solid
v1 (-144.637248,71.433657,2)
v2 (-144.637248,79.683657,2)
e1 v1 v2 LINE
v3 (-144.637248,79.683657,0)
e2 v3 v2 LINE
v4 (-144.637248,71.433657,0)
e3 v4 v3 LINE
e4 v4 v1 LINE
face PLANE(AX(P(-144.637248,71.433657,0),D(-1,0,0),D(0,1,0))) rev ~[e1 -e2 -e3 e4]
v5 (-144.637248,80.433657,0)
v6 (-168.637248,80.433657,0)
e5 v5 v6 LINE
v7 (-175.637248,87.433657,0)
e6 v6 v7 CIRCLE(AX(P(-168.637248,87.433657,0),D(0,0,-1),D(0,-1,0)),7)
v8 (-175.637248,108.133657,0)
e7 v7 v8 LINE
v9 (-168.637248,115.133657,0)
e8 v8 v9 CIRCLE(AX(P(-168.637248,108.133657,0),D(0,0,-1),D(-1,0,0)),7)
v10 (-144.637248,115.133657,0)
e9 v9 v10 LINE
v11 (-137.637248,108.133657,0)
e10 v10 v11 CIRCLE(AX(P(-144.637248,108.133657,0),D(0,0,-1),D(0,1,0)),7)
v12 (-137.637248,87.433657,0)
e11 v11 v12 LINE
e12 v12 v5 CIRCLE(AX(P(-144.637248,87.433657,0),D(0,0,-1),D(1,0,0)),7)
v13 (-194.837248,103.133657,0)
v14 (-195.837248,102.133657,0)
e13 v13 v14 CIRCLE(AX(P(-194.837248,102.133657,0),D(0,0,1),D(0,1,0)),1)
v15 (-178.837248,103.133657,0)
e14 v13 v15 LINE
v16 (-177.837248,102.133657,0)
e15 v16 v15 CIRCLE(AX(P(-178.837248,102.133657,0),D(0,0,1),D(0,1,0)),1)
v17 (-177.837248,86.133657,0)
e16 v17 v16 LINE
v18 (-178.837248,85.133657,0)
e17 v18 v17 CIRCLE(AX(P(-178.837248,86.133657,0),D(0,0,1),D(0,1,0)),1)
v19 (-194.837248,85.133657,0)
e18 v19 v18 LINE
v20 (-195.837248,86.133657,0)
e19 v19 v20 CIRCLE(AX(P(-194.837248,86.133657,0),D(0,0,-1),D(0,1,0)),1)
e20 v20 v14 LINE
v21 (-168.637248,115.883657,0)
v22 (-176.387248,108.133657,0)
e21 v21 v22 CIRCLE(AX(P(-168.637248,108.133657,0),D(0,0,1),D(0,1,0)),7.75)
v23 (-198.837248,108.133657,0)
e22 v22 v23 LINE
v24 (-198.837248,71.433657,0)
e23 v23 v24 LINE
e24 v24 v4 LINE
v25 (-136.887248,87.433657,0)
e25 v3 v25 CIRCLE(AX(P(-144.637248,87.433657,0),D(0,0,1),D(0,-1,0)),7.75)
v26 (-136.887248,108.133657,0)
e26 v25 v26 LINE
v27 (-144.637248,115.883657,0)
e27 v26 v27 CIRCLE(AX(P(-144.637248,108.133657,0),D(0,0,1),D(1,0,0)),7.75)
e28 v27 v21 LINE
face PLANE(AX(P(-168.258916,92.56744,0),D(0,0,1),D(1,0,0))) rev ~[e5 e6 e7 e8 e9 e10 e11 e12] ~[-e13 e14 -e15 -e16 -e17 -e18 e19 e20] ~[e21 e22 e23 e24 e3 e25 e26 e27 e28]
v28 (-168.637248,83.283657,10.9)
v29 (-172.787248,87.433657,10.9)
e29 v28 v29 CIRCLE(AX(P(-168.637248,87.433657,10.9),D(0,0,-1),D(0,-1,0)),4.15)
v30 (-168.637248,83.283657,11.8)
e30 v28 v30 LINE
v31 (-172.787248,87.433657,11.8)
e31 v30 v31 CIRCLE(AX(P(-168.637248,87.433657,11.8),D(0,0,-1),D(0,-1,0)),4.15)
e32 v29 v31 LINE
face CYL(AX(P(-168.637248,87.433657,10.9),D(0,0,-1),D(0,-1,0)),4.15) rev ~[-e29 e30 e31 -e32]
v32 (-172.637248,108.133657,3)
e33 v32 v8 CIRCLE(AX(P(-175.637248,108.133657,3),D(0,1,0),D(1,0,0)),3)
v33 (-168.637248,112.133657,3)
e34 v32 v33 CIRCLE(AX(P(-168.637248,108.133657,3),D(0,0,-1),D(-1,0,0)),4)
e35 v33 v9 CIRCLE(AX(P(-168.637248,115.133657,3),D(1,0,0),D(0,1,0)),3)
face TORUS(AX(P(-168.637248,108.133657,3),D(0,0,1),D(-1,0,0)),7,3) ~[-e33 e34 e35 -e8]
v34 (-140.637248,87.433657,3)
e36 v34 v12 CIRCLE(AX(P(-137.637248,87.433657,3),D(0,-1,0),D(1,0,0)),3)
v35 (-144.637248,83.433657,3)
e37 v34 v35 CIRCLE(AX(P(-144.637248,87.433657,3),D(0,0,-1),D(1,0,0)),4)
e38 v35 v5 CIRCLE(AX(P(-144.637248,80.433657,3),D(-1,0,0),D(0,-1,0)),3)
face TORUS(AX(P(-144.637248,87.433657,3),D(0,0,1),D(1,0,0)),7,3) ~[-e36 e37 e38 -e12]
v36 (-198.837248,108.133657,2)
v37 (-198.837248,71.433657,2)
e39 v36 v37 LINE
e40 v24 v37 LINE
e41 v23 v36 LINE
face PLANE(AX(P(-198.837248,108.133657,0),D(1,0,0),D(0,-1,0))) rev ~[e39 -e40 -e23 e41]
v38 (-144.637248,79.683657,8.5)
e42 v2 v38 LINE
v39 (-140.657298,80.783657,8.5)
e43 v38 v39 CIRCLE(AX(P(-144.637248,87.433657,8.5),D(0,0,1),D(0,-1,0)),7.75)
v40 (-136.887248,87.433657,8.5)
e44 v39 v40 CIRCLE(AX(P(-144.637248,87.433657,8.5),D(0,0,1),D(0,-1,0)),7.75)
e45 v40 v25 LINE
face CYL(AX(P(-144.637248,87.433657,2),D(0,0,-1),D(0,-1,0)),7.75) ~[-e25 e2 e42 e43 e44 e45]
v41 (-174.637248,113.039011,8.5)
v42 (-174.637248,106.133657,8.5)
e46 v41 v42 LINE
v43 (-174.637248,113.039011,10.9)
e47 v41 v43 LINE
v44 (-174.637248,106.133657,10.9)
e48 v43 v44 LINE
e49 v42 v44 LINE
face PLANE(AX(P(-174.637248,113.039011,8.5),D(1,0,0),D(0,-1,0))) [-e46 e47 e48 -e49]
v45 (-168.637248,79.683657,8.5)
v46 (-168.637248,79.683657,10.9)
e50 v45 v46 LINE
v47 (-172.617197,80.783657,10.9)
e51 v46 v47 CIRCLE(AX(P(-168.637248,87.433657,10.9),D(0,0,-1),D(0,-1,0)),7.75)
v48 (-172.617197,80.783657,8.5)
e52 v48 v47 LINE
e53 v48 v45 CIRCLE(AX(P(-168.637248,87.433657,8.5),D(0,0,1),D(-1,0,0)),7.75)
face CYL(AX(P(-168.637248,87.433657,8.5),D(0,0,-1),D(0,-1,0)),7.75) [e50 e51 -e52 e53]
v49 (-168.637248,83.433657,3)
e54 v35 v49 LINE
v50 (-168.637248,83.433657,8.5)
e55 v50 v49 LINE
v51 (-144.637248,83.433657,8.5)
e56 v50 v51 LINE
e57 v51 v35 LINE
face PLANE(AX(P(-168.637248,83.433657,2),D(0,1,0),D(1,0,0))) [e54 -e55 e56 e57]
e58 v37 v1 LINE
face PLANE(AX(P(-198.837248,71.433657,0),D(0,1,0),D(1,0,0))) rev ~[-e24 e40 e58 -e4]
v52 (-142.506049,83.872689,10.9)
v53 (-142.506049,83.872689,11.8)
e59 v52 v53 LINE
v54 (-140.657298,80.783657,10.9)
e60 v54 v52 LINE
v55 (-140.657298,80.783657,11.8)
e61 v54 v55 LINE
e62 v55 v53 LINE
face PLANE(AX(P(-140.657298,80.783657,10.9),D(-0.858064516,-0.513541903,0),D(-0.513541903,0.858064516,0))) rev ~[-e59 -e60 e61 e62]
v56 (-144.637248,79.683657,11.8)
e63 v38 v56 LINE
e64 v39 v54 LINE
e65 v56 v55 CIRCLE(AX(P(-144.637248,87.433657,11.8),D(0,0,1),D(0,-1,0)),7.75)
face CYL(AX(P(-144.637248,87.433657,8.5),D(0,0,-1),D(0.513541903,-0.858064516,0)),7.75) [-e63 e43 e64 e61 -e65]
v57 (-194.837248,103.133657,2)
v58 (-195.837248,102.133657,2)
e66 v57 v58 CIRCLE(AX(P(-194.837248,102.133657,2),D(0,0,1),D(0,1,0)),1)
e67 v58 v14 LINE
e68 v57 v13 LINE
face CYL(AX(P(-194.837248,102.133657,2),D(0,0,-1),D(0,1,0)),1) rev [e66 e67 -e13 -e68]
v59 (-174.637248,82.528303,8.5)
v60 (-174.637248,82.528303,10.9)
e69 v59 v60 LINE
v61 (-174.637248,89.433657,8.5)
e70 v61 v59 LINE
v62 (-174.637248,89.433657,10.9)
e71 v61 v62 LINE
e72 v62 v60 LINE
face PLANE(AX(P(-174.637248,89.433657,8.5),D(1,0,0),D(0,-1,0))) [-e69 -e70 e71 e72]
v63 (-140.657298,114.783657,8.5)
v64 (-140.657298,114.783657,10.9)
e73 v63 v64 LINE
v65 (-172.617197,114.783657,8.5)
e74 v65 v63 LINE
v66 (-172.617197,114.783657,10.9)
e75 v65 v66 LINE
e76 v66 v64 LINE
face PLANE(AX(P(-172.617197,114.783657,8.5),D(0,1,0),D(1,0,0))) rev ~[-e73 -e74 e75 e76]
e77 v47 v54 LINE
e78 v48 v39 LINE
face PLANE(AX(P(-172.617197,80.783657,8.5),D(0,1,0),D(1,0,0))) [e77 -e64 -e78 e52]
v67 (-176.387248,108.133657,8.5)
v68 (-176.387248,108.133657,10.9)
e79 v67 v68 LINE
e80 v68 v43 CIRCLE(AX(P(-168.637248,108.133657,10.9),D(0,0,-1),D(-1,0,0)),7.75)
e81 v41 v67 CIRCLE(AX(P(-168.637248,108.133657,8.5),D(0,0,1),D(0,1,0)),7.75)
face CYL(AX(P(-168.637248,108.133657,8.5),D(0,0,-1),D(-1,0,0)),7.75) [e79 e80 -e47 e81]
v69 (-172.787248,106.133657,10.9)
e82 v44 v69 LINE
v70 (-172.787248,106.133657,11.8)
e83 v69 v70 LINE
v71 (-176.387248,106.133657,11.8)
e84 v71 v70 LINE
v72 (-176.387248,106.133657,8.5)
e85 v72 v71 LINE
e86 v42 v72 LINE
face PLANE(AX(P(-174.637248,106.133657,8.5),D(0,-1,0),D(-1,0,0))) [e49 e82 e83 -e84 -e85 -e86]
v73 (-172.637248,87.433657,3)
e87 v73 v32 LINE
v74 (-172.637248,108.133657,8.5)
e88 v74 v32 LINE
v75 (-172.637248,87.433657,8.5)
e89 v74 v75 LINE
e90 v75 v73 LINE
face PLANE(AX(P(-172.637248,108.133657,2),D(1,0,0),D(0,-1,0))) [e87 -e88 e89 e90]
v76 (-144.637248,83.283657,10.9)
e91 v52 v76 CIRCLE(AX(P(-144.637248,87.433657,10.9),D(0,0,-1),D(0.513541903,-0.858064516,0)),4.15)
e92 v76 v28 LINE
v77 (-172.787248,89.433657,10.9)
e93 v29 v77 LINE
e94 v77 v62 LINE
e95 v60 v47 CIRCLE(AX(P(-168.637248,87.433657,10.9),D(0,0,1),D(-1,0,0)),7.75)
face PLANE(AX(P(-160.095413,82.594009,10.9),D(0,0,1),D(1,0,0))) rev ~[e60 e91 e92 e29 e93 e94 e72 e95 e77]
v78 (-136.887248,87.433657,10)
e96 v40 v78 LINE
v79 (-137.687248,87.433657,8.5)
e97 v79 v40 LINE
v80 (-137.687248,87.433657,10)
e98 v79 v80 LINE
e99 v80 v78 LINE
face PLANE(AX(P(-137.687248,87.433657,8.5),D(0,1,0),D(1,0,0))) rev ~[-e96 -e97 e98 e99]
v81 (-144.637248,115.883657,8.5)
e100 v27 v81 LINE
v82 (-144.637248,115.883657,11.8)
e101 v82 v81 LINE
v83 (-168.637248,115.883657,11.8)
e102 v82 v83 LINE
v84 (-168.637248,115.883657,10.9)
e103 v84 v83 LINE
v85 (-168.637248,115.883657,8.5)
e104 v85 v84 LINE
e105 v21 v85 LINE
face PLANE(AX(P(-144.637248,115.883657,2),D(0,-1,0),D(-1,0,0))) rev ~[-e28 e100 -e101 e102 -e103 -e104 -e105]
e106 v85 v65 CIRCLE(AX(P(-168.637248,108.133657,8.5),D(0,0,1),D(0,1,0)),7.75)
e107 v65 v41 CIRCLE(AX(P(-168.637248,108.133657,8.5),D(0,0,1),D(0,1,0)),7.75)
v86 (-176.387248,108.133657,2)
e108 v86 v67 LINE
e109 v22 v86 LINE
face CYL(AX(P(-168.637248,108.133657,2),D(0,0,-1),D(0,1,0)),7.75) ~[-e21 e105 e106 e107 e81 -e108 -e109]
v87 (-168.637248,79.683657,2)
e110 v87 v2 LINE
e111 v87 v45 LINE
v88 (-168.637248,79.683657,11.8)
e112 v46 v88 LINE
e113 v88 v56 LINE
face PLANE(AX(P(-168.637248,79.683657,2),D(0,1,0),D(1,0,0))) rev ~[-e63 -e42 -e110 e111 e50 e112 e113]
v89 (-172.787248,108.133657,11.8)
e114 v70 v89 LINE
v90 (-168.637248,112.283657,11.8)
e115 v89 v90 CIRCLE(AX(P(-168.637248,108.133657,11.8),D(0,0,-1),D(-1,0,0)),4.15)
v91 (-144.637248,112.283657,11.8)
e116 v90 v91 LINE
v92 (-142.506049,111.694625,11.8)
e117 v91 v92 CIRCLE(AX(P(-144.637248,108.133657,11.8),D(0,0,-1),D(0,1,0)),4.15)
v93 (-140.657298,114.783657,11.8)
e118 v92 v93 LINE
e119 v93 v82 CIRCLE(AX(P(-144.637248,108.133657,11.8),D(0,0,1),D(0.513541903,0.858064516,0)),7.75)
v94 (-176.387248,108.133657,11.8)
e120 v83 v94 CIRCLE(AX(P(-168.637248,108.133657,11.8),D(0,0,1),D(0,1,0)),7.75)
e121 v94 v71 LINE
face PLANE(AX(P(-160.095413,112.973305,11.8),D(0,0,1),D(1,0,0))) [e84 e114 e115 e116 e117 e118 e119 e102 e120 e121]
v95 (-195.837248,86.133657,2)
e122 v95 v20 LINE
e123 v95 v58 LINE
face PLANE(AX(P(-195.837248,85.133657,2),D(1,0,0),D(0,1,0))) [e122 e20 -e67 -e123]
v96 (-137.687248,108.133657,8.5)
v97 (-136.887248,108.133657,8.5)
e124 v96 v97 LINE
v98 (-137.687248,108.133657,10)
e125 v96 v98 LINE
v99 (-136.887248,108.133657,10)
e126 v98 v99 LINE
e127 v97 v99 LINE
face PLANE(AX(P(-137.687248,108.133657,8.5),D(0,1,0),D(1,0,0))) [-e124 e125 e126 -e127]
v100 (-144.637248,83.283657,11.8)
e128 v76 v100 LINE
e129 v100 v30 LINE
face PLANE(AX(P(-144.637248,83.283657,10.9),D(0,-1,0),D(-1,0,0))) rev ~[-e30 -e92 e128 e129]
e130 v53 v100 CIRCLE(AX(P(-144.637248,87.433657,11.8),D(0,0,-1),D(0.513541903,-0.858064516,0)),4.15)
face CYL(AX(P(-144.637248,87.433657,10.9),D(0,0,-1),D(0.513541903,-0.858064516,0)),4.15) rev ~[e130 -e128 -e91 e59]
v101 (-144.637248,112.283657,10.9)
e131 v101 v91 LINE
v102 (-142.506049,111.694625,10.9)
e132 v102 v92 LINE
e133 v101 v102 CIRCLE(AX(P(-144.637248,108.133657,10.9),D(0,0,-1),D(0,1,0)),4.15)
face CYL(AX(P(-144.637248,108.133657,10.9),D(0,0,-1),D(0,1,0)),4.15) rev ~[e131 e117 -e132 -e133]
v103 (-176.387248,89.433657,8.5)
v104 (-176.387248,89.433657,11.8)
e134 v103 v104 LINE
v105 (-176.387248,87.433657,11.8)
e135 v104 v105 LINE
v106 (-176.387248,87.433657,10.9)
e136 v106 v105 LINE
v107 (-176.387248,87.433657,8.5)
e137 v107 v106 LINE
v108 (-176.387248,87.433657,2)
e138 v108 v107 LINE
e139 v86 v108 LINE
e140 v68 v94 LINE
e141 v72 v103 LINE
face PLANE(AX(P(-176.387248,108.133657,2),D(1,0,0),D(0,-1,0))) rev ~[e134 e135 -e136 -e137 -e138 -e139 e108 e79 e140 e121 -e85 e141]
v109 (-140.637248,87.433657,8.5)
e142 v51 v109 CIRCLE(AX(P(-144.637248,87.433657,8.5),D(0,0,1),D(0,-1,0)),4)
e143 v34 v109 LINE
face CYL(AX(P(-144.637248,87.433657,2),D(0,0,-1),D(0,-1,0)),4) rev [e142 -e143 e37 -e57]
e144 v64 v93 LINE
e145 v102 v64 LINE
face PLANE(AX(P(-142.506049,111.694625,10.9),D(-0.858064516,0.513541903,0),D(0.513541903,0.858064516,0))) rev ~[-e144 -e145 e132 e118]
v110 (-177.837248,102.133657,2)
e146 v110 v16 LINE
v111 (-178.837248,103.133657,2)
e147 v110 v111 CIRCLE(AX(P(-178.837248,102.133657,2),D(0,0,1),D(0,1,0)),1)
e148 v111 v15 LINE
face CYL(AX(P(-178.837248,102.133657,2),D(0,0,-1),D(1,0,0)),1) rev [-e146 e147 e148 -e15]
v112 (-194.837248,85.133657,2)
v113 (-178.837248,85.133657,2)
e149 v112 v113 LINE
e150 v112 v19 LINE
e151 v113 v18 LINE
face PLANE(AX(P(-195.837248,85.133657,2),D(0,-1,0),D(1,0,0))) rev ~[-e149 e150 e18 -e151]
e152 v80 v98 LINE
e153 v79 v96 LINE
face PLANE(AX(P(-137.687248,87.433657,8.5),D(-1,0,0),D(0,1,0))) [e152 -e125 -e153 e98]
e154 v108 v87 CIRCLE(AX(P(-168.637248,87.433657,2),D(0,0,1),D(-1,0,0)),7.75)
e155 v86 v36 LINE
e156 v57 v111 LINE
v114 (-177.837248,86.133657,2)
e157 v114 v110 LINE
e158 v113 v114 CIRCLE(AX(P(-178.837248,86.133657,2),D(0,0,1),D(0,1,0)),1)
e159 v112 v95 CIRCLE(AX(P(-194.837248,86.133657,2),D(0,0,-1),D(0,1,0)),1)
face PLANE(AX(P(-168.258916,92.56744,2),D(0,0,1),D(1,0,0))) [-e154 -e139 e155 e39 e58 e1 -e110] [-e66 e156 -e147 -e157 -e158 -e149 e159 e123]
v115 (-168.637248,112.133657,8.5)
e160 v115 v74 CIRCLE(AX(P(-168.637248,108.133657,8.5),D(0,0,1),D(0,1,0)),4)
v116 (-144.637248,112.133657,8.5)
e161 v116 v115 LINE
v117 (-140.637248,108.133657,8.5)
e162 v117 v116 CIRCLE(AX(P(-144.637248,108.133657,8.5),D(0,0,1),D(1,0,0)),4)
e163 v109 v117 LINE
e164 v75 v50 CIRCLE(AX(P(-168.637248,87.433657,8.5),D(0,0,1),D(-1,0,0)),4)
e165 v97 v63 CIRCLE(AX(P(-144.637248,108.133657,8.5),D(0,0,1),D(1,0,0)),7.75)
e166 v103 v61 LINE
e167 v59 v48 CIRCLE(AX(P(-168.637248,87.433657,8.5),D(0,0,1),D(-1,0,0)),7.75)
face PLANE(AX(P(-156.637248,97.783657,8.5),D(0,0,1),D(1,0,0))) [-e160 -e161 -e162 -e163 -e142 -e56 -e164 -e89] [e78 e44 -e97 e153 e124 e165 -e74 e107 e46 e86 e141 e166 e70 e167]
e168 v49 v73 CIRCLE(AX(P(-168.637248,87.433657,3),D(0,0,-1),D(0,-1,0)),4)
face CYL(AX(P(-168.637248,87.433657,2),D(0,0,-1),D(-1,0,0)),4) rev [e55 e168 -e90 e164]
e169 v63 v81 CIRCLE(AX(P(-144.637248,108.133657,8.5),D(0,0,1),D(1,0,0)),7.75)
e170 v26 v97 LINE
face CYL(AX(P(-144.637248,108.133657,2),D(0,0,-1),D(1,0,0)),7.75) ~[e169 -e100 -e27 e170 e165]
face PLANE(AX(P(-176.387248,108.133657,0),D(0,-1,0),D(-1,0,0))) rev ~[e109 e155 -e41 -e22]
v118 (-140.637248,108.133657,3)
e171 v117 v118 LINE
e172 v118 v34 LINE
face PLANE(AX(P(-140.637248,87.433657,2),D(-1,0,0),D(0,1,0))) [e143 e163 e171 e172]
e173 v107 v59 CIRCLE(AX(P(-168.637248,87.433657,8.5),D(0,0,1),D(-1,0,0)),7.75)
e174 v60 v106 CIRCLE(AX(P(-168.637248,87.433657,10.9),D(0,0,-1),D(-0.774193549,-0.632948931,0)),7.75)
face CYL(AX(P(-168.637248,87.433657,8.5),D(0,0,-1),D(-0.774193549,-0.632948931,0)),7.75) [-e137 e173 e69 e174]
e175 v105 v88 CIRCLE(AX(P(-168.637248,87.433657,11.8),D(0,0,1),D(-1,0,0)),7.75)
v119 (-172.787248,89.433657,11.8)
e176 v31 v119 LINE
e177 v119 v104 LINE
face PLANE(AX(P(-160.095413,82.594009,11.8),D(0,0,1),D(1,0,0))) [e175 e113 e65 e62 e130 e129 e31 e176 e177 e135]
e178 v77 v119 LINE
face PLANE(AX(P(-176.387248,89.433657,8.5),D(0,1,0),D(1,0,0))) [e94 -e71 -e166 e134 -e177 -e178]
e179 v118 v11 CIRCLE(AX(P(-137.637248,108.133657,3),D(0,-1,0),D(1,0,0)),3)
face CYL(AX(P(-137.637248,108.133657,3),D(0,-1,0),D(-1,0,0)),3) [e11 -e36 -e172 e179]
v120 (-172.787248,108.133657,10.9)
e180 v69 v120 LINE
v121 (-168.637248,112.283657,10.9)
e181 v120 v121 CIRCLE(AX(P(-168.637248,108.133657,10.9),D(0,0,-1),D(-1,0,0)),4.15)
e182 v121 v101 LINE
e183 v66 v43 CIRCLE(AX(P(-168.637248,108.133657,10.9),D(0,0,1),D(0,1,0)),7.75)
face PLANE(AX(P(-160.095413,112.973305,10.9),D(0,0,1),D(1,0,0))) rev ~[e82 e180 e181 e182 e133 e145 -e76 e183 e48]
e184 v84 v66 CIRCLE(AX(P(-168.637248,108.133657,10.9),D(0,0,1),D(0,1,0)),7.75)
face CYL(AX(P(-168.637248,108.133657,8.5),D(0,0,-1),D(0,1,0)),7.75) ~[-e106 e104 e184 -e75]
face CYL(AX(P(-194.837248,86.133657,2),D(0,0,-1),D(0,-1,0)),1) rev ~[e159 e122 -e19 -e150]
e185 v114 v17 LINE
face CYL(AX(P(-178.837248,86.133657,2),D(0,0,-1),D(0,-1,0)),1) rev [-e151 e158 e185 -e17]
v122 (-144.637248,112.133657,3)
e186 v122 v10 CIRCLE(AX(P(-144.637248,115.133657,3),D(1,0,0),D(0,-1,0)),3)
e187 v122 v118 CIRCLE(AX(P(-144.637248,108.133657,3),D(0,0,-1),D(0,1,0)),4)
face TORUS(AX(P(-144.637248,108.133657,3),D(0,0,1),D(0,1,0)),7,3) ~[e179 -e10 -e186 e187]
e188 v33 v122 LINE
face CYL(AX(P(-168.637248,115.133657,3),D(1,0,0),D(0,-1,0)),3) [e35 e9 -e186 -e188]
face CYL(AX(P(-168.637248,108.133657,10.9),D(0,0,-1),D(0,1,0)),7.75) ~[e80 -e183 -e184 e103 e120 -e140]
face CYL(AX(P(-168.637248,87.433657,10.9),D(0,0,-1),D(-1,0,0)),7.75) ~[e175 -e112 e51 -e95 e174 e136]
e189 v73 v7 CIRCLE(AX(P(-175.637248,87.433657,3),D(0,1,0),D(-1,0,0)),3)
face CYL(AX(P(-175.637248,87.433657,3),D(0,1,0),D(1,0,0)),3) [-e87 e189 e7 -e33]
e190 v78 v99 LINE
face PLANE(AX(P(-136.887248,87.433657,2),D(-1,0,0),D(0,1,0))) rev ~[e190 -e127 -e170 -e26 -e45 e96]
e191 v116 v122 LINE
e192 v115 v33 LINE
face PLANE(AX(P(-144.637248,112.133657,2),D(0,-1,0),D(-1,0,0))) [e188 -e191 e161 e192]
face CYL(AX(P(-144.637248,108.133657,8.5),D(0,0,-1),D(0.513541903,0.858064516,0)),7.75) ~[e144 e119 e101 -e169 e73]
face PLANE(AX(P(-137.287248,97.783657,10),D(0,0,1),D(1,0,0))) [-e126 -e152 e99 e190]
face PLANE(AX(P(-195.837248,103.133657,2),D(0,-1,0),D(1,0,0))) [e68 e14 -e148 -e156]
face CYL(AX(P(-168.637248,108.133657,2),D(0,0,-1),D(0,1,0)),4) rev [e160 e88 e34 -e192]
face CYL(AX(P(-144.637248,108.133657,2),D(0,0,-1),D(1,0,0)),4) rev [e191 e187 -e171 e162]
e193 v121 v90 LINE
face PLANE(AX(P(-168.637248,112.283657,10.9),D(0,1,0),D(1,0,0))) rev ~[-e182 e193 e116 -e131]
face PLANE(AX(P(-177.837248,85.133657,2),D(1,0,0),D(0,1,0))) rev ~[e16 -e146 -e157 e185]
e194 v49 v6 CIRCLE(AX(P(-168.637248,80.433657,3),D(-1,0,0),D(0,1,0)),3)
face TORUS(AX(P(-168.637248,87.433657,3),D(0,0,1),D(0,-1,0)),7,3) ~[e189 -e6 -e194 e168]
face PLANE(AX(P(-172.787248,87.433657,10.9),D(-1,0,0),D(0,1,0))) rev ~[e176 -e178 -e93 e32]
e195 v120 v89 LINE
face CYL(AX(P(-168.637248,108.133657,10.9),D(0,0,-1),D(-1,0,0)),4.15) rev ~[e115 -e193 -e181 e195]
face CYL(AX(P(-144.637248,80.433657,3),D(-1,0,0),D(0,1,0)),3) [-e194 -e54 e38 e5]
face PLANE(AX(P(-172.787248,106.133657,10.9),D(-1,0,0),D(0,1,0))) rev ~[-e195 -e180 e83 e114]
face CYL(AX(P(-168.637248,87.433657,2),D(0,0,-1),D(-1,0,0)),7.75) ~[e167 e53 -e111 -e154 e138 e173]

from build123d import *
from build123d.topology import SkipClean

# Parameters (mm, degrees)
SALIENTE_EXTRUIR1_DEPTH = 2
SALIENTE_EXTRUIR2_DEPTH = 6.5
SALIENTE_EXTRUIR4_DEPTH = 2.4
SALIENTE_EXTRUIR5_START = 2.4
SALIENTE_EXTRUIR5_DEPTH = 0.9
REDONDEO1_R             = 3
CROQUIS8_W              = 0.8
CROQUIS8_H              = 20.7
SALIENTE_EXTRUIR6_DEPTH = 1.5
CROQUIS9_W              = 18
CROQUIS9_H              = 18
CORTAR_EXTRUIR1_DEPTH   = 2
REDONDEO2_R             = 1


with BuildPart() as part:
    # Croquis1 → Saliente-Extruir1 (new body)
    with BuildSketch(Plane.XY):
        with BuildLine():
            Line((-198.83724752, 71.433656958), (-144.63724752, 71.433656958))
            Line((-144.63724752, 71.433656958), (-144.63724752, 79.683656958))
            ThreePointArc((-144.63724752, 79.683656958), (-139.157169966, 81.953579404), (-136.88724752, 87.433656958))
            Line((-136.88724752, 87.433656958), (-136.88724752, 108.133656958))
            ThreePointArc((-136.88724752, 108.133656958), (-139.157169966, 113.613734512), (-144.63724752, 115.883656958))
            Line((-144.63724752, 115.883656958), (-168.63724752, 115.883656958))
            ThreePointArc((-168.63724752, 115.883656958), (-174.117325074, 113.613734512), (-176.38724752, 108.133656958))
            Line((-176.38724752, 108.133656958), (-198.83724752, 108.133656958))
            Line((-198.83724752, 108.133656958), (-198.83724752, 71.433656958))
        make_face()
        with BuildLine():
            Line((-144.63724752, 83.433656958), (-168.63724752, 83.433656958))
            ThreePointArc((-168.63724752, 83.433656958), (-171.465674645, 84.605229833), (-172.63724752, 87.433656958))
            Line((-172.63724752, 87.433656958), (-172.63724752, 108.133656958))
            ThreePointArc((-172.63724752, 108.133656958), (-171.465674645, 110.962084083), (-168.63724752, 112.133656958))
            Line((-168.63724752, 112.133656958), (-144.63724752, 112.133656958))
            ThreePointArc((-144.63724752, 112.133656958), (-141.808820395, 110.962084083), (-140.63724752, 108.133656958))
            Line((-140.63724752, 108.133656958), (-140.63724752, 87.433656958))
            ThreePointArc((-140.63724752, 87.433656958), (-141.808820395, 84.605229833), (-144.63724752, 83.433656958))
        make_face(mode=Mode.SUBTRACT)
    extrude(amount=SALIENTE_EXTRUIR1_DEPTH)

    # Croquis3 → Saliente-Extruir2 (add)
    with BuildSketch(Plane.XY.offset(2)):
        with BuildLine():
            Line((-136.88724752, 87.433656958), (-136.88724752, 108.133656958))
            ThreePointArc((-136.88724752, 108.133656958), (-139.157169966, 113.613734512), (-144.63724752, 115.883656958))
            Line((-144.63724752, 115.883656958), (-168.63724752, 115.883656958))
            ThreePointArc((-168.63724752, 115.883656958), (-174.117325074, 113.613734512), (-176.38724752, 108.133656958))
            Line((-176.38724752, 108.133656958), (-176.38724752, 87.433656958))
            ThreePointArc((-176.38724752, 87.433656958), (-174.117325074, 81.953579404), (-168.63724752, 79.683656958))
            Line((-168.63724752, 79.683656958), (-144.63724752, 79.683656958))
            ThreePointArc((-144.63724752, 79.683656958), (-139.157169966, 81.953579404), (-136.88724752, 87.433656958))
        make_face()
        with BuildLine():
            Line((-140.63724752, 87.433656958), (-140.63724752, 108.133656958))
            ThreePointArc((-140.63724752, 108.133656958), (-141.808820395, 110.962084083), (-144.63724752, 112.133656958))
            Line((-144.63724752, 112.133656958), (-168.63724752, 112.133656958))
            ThreePointArc((-168.63724752, 112.133656958), (-171.465674645, 110.962084083), (-172.63724752, 108.133656958))
            Line((-172.63724752, 108.133656958), (-172.63724752, 87.433656958))
            ThreePointArc((-172.63724752, 87.433656958), (-171.465674645, 84.605229833), (-168.63724752, 83.433656958))
            Line((-168.63724752, 83.433656958), (-144.63724752, 83.433656958))
            ThreePointArc((-144.63724752, 83.433656958), (-141.808820395, 84.605229833), (-140.63724752, 87.433656958))
        make_face(mode=Mode.SUBTRACT)
    extrude(amount=SALIENTE_EXTRUIR2_DEPTH)

    # Croquis6 → Saliente-Extruir4 (add)
    with SkipClean():  # the faces are left unmerged after this step: merging them gives an invalid solid
        with BuildSketch(Plane.XY.offset(8.5)):
            with BuildLine():
                Line((-172.617197268, 114.783656958), (-140.657297772, 114.783656958))
                ThreePointArc((-140.657297772, 114.783656958), (-142.572665238, 115.603596717), (-144.63724752, 115.883656958))
                Line((-144.63724752, 115.883656958), (-168.63724752, 115.883656958))
                ThreePointArc((-168.63724752, 115.883656958), (-170.701829802, 115.603596717), (-172.617197268, 114.783656958))
            make_face()
            with BuildLine():
                Line((-144.63724752, 79.683656958), (-168.63724752, 79.683656958))
                ThreePointArc((-168.63724752, 79.683656958), (-170.701829802, 79.963717199), (-172.617197268, 80.783656958))
                Line((-172.617197268, 80.783656958), (-140.657297772, 80.783656958))
                ThreePointArc((-140.657297772, 80.783656958), (-142.572665238, 79.963717199), (-144.63724752, 79.683656958))
            make_face()
            with BuildLine():
                Line((-174.63724752, 113.039011176), (-174.63724752, 106.133656958))
                Line((-174.63724752, 106.133656958), (-176.38724752, 106.133656958))
                Line((-176.38724752, 106.133656958), (-176.38724752, 108.133656958))
                ThreePointArc((-176.38724752, 108.133656958), (-175.93664818, 110.73774029), (-174.63724752, 113.039011176))
            make_face()
            with BuildLine():
                Line((-176.38724752, 87.433656958), (-176.38724752, 89.433656958))
                Line((-176.38724752, 89.433656958), (-174.63724752, 89.433656958))
                Line((-174.63724752, 89.433656958), (-174.63724752, 82.52830274))
                ThreePointArc((-174.63724752, 82.52830274), (-175.93664818, 84.829573626), (-176.38724752, 87.433656958))
            make_face()
        extrude(amount=SALIENTE_EXTRUIR4_DEPTH)

    # Croquis7 → Saliente-Extruir5 (add)
    with SkipClean():  # the faces are left unmerged after this step: merging them gives an invalid solid
        with BuildSketch(Plane.XY.offset(8.5).offset(SALIENTE_EXTRUIR5_START)):
            with BuildLine():
                Line((-172.78724752, 106.133656958), (-172.78724752, 108.133656958))
                ThreePointArc((-172.78724752, 108.133656958), (-171.571740662, 111.0681501), (-168.63724752, 112.283656958))
                Line((-168.63724752, 112.283656958), (-144.63724752, 112.283656958))
                ThreePointArc((-144.63724752, 112.283656958), (-143.531697008, 112.133689216), (-142.506048622, 111.6946247))
                Line((-142.506048622, 111.6946247), (-140.657297772, 114.783656958))
                ThreePointArc((-140.657297772, 114.783656958), (-142.572665238, 115.603596717), (-144.63724752, 115.883656958))
                Line((-144.63724752, 115.883656958), (-168.63724752, 115.883656958))
                ThreePointArc((-168.63724752, 115.883656958), (-174.117325074, 113.613734512), (-176.38724752, 108.133656958))
                Line((-176.38724752, 108.133656958), (-176.38724752, 106.133656958))
                Line((-176.38724752, 106.133656958), (-172.78724752, 106.133656958))
            make_face()
            with BuildLine():
                Line((-168.63724752, 79.683656958), (-144.63724752, 79.683656958))
                ThreePointArc((-144.63724752, 79.683656958), (-142.572665238, 79.963717199), (-140.657297772, 80.783656958))
                Line((-140.657297772, 80.783656958), (-142.506048622, 83.872689216))
                ThreePointArc((-142.506048622, 83.872689216), (-143.531697008, 83.4336247), (-144.63724752, 83.283656958))
                Line((-144.63724752, 83.283656958), (-168.63724752, 83.283656958))
                ThreePointArc((-168.63724752, 83.283656958), (-171.571740662, 84.499163816), (-172.78724752, 87.433656958))
                Line((-172.78724752, 87.433656958), (-172.78724752, 89.433656958))
                Line((-172.78724752, 89.433656958), (-176.38724752, 89.433656958))
                Line((-176.38724752, 89.433656958), (-176.38724752, 87.433656958))
                ThreePointArc((-176.38724752, 87.433656958), (-174.117325074, 81.953579404), (-168.63724752, 79.683656958))
            make_face()
        extrude(amount=SALIENTE_EXTRUIR5_DEPTH)

    # Redondeo1
    redondeo1_edges = [part.edges().sort_by_distance(p)[0] for p in [
        (-141.808820395, 84.605229833, 0),
        (-140.63724752, 97.783656958, 0),
        (-141.808820395, 110.962084083, 0),
        (-156.63724752, 112.133656958, 0),
        (-171.465674645, 110.962084083, 0),
        (-172.63724752, 97.783656958, 0),
        (-171.465674645, 84.605229833, 0),
        (-156.63724752, 83.433656958, 0),
    ]]
    fillet(redondeo1_edges, radius=REDONDEO1_R)

    # Croquis8 → Saliente-Extruir6 (add)
    with SkipClean():  # the faces are left unmerged after this step: merging them gives an invalid solid
        with BuildSketch(Plane.XY.offset(8.5)):
            with Locations((-137.28724752, 97.783656958)):
                Rectangle(CROQUIS8_W, CROQUIS8_H)
        extrude(amount=SALIENTE_EXTRUIR6_DEPTH)

    # Croquis9 → Cortar-Extruir1 (cut)
    with SkipClean():  # the faces are left unmerged after this step: merging them gives an invalid solid
        with BuildSketch(Plane.XY.offset(2)):
            with Locations((-186.83724752, 94.133656958)):
                Rectangle(CROQUIS9_W, CROQUIS9_H)
        extrude(amount=-CORTAR_EXTRUIR1_DEPTH, mode=Mode.SUBTRACT)

    # Redondeo2
    redondeo2_edges = [part.edges().sort_by_distance(p)[0] for p in [
        (-177.83724752, 85.133656958, 1),
        (-177.83724752, 103.133656958, 1),
        (-195.83724752, 103.133656958, 1),
        (-195.83724752, 85.133656958, 1),
    ]]
    fillet(redondeo2_edges, radius=REDONDEO2_R)


solid = part.part
